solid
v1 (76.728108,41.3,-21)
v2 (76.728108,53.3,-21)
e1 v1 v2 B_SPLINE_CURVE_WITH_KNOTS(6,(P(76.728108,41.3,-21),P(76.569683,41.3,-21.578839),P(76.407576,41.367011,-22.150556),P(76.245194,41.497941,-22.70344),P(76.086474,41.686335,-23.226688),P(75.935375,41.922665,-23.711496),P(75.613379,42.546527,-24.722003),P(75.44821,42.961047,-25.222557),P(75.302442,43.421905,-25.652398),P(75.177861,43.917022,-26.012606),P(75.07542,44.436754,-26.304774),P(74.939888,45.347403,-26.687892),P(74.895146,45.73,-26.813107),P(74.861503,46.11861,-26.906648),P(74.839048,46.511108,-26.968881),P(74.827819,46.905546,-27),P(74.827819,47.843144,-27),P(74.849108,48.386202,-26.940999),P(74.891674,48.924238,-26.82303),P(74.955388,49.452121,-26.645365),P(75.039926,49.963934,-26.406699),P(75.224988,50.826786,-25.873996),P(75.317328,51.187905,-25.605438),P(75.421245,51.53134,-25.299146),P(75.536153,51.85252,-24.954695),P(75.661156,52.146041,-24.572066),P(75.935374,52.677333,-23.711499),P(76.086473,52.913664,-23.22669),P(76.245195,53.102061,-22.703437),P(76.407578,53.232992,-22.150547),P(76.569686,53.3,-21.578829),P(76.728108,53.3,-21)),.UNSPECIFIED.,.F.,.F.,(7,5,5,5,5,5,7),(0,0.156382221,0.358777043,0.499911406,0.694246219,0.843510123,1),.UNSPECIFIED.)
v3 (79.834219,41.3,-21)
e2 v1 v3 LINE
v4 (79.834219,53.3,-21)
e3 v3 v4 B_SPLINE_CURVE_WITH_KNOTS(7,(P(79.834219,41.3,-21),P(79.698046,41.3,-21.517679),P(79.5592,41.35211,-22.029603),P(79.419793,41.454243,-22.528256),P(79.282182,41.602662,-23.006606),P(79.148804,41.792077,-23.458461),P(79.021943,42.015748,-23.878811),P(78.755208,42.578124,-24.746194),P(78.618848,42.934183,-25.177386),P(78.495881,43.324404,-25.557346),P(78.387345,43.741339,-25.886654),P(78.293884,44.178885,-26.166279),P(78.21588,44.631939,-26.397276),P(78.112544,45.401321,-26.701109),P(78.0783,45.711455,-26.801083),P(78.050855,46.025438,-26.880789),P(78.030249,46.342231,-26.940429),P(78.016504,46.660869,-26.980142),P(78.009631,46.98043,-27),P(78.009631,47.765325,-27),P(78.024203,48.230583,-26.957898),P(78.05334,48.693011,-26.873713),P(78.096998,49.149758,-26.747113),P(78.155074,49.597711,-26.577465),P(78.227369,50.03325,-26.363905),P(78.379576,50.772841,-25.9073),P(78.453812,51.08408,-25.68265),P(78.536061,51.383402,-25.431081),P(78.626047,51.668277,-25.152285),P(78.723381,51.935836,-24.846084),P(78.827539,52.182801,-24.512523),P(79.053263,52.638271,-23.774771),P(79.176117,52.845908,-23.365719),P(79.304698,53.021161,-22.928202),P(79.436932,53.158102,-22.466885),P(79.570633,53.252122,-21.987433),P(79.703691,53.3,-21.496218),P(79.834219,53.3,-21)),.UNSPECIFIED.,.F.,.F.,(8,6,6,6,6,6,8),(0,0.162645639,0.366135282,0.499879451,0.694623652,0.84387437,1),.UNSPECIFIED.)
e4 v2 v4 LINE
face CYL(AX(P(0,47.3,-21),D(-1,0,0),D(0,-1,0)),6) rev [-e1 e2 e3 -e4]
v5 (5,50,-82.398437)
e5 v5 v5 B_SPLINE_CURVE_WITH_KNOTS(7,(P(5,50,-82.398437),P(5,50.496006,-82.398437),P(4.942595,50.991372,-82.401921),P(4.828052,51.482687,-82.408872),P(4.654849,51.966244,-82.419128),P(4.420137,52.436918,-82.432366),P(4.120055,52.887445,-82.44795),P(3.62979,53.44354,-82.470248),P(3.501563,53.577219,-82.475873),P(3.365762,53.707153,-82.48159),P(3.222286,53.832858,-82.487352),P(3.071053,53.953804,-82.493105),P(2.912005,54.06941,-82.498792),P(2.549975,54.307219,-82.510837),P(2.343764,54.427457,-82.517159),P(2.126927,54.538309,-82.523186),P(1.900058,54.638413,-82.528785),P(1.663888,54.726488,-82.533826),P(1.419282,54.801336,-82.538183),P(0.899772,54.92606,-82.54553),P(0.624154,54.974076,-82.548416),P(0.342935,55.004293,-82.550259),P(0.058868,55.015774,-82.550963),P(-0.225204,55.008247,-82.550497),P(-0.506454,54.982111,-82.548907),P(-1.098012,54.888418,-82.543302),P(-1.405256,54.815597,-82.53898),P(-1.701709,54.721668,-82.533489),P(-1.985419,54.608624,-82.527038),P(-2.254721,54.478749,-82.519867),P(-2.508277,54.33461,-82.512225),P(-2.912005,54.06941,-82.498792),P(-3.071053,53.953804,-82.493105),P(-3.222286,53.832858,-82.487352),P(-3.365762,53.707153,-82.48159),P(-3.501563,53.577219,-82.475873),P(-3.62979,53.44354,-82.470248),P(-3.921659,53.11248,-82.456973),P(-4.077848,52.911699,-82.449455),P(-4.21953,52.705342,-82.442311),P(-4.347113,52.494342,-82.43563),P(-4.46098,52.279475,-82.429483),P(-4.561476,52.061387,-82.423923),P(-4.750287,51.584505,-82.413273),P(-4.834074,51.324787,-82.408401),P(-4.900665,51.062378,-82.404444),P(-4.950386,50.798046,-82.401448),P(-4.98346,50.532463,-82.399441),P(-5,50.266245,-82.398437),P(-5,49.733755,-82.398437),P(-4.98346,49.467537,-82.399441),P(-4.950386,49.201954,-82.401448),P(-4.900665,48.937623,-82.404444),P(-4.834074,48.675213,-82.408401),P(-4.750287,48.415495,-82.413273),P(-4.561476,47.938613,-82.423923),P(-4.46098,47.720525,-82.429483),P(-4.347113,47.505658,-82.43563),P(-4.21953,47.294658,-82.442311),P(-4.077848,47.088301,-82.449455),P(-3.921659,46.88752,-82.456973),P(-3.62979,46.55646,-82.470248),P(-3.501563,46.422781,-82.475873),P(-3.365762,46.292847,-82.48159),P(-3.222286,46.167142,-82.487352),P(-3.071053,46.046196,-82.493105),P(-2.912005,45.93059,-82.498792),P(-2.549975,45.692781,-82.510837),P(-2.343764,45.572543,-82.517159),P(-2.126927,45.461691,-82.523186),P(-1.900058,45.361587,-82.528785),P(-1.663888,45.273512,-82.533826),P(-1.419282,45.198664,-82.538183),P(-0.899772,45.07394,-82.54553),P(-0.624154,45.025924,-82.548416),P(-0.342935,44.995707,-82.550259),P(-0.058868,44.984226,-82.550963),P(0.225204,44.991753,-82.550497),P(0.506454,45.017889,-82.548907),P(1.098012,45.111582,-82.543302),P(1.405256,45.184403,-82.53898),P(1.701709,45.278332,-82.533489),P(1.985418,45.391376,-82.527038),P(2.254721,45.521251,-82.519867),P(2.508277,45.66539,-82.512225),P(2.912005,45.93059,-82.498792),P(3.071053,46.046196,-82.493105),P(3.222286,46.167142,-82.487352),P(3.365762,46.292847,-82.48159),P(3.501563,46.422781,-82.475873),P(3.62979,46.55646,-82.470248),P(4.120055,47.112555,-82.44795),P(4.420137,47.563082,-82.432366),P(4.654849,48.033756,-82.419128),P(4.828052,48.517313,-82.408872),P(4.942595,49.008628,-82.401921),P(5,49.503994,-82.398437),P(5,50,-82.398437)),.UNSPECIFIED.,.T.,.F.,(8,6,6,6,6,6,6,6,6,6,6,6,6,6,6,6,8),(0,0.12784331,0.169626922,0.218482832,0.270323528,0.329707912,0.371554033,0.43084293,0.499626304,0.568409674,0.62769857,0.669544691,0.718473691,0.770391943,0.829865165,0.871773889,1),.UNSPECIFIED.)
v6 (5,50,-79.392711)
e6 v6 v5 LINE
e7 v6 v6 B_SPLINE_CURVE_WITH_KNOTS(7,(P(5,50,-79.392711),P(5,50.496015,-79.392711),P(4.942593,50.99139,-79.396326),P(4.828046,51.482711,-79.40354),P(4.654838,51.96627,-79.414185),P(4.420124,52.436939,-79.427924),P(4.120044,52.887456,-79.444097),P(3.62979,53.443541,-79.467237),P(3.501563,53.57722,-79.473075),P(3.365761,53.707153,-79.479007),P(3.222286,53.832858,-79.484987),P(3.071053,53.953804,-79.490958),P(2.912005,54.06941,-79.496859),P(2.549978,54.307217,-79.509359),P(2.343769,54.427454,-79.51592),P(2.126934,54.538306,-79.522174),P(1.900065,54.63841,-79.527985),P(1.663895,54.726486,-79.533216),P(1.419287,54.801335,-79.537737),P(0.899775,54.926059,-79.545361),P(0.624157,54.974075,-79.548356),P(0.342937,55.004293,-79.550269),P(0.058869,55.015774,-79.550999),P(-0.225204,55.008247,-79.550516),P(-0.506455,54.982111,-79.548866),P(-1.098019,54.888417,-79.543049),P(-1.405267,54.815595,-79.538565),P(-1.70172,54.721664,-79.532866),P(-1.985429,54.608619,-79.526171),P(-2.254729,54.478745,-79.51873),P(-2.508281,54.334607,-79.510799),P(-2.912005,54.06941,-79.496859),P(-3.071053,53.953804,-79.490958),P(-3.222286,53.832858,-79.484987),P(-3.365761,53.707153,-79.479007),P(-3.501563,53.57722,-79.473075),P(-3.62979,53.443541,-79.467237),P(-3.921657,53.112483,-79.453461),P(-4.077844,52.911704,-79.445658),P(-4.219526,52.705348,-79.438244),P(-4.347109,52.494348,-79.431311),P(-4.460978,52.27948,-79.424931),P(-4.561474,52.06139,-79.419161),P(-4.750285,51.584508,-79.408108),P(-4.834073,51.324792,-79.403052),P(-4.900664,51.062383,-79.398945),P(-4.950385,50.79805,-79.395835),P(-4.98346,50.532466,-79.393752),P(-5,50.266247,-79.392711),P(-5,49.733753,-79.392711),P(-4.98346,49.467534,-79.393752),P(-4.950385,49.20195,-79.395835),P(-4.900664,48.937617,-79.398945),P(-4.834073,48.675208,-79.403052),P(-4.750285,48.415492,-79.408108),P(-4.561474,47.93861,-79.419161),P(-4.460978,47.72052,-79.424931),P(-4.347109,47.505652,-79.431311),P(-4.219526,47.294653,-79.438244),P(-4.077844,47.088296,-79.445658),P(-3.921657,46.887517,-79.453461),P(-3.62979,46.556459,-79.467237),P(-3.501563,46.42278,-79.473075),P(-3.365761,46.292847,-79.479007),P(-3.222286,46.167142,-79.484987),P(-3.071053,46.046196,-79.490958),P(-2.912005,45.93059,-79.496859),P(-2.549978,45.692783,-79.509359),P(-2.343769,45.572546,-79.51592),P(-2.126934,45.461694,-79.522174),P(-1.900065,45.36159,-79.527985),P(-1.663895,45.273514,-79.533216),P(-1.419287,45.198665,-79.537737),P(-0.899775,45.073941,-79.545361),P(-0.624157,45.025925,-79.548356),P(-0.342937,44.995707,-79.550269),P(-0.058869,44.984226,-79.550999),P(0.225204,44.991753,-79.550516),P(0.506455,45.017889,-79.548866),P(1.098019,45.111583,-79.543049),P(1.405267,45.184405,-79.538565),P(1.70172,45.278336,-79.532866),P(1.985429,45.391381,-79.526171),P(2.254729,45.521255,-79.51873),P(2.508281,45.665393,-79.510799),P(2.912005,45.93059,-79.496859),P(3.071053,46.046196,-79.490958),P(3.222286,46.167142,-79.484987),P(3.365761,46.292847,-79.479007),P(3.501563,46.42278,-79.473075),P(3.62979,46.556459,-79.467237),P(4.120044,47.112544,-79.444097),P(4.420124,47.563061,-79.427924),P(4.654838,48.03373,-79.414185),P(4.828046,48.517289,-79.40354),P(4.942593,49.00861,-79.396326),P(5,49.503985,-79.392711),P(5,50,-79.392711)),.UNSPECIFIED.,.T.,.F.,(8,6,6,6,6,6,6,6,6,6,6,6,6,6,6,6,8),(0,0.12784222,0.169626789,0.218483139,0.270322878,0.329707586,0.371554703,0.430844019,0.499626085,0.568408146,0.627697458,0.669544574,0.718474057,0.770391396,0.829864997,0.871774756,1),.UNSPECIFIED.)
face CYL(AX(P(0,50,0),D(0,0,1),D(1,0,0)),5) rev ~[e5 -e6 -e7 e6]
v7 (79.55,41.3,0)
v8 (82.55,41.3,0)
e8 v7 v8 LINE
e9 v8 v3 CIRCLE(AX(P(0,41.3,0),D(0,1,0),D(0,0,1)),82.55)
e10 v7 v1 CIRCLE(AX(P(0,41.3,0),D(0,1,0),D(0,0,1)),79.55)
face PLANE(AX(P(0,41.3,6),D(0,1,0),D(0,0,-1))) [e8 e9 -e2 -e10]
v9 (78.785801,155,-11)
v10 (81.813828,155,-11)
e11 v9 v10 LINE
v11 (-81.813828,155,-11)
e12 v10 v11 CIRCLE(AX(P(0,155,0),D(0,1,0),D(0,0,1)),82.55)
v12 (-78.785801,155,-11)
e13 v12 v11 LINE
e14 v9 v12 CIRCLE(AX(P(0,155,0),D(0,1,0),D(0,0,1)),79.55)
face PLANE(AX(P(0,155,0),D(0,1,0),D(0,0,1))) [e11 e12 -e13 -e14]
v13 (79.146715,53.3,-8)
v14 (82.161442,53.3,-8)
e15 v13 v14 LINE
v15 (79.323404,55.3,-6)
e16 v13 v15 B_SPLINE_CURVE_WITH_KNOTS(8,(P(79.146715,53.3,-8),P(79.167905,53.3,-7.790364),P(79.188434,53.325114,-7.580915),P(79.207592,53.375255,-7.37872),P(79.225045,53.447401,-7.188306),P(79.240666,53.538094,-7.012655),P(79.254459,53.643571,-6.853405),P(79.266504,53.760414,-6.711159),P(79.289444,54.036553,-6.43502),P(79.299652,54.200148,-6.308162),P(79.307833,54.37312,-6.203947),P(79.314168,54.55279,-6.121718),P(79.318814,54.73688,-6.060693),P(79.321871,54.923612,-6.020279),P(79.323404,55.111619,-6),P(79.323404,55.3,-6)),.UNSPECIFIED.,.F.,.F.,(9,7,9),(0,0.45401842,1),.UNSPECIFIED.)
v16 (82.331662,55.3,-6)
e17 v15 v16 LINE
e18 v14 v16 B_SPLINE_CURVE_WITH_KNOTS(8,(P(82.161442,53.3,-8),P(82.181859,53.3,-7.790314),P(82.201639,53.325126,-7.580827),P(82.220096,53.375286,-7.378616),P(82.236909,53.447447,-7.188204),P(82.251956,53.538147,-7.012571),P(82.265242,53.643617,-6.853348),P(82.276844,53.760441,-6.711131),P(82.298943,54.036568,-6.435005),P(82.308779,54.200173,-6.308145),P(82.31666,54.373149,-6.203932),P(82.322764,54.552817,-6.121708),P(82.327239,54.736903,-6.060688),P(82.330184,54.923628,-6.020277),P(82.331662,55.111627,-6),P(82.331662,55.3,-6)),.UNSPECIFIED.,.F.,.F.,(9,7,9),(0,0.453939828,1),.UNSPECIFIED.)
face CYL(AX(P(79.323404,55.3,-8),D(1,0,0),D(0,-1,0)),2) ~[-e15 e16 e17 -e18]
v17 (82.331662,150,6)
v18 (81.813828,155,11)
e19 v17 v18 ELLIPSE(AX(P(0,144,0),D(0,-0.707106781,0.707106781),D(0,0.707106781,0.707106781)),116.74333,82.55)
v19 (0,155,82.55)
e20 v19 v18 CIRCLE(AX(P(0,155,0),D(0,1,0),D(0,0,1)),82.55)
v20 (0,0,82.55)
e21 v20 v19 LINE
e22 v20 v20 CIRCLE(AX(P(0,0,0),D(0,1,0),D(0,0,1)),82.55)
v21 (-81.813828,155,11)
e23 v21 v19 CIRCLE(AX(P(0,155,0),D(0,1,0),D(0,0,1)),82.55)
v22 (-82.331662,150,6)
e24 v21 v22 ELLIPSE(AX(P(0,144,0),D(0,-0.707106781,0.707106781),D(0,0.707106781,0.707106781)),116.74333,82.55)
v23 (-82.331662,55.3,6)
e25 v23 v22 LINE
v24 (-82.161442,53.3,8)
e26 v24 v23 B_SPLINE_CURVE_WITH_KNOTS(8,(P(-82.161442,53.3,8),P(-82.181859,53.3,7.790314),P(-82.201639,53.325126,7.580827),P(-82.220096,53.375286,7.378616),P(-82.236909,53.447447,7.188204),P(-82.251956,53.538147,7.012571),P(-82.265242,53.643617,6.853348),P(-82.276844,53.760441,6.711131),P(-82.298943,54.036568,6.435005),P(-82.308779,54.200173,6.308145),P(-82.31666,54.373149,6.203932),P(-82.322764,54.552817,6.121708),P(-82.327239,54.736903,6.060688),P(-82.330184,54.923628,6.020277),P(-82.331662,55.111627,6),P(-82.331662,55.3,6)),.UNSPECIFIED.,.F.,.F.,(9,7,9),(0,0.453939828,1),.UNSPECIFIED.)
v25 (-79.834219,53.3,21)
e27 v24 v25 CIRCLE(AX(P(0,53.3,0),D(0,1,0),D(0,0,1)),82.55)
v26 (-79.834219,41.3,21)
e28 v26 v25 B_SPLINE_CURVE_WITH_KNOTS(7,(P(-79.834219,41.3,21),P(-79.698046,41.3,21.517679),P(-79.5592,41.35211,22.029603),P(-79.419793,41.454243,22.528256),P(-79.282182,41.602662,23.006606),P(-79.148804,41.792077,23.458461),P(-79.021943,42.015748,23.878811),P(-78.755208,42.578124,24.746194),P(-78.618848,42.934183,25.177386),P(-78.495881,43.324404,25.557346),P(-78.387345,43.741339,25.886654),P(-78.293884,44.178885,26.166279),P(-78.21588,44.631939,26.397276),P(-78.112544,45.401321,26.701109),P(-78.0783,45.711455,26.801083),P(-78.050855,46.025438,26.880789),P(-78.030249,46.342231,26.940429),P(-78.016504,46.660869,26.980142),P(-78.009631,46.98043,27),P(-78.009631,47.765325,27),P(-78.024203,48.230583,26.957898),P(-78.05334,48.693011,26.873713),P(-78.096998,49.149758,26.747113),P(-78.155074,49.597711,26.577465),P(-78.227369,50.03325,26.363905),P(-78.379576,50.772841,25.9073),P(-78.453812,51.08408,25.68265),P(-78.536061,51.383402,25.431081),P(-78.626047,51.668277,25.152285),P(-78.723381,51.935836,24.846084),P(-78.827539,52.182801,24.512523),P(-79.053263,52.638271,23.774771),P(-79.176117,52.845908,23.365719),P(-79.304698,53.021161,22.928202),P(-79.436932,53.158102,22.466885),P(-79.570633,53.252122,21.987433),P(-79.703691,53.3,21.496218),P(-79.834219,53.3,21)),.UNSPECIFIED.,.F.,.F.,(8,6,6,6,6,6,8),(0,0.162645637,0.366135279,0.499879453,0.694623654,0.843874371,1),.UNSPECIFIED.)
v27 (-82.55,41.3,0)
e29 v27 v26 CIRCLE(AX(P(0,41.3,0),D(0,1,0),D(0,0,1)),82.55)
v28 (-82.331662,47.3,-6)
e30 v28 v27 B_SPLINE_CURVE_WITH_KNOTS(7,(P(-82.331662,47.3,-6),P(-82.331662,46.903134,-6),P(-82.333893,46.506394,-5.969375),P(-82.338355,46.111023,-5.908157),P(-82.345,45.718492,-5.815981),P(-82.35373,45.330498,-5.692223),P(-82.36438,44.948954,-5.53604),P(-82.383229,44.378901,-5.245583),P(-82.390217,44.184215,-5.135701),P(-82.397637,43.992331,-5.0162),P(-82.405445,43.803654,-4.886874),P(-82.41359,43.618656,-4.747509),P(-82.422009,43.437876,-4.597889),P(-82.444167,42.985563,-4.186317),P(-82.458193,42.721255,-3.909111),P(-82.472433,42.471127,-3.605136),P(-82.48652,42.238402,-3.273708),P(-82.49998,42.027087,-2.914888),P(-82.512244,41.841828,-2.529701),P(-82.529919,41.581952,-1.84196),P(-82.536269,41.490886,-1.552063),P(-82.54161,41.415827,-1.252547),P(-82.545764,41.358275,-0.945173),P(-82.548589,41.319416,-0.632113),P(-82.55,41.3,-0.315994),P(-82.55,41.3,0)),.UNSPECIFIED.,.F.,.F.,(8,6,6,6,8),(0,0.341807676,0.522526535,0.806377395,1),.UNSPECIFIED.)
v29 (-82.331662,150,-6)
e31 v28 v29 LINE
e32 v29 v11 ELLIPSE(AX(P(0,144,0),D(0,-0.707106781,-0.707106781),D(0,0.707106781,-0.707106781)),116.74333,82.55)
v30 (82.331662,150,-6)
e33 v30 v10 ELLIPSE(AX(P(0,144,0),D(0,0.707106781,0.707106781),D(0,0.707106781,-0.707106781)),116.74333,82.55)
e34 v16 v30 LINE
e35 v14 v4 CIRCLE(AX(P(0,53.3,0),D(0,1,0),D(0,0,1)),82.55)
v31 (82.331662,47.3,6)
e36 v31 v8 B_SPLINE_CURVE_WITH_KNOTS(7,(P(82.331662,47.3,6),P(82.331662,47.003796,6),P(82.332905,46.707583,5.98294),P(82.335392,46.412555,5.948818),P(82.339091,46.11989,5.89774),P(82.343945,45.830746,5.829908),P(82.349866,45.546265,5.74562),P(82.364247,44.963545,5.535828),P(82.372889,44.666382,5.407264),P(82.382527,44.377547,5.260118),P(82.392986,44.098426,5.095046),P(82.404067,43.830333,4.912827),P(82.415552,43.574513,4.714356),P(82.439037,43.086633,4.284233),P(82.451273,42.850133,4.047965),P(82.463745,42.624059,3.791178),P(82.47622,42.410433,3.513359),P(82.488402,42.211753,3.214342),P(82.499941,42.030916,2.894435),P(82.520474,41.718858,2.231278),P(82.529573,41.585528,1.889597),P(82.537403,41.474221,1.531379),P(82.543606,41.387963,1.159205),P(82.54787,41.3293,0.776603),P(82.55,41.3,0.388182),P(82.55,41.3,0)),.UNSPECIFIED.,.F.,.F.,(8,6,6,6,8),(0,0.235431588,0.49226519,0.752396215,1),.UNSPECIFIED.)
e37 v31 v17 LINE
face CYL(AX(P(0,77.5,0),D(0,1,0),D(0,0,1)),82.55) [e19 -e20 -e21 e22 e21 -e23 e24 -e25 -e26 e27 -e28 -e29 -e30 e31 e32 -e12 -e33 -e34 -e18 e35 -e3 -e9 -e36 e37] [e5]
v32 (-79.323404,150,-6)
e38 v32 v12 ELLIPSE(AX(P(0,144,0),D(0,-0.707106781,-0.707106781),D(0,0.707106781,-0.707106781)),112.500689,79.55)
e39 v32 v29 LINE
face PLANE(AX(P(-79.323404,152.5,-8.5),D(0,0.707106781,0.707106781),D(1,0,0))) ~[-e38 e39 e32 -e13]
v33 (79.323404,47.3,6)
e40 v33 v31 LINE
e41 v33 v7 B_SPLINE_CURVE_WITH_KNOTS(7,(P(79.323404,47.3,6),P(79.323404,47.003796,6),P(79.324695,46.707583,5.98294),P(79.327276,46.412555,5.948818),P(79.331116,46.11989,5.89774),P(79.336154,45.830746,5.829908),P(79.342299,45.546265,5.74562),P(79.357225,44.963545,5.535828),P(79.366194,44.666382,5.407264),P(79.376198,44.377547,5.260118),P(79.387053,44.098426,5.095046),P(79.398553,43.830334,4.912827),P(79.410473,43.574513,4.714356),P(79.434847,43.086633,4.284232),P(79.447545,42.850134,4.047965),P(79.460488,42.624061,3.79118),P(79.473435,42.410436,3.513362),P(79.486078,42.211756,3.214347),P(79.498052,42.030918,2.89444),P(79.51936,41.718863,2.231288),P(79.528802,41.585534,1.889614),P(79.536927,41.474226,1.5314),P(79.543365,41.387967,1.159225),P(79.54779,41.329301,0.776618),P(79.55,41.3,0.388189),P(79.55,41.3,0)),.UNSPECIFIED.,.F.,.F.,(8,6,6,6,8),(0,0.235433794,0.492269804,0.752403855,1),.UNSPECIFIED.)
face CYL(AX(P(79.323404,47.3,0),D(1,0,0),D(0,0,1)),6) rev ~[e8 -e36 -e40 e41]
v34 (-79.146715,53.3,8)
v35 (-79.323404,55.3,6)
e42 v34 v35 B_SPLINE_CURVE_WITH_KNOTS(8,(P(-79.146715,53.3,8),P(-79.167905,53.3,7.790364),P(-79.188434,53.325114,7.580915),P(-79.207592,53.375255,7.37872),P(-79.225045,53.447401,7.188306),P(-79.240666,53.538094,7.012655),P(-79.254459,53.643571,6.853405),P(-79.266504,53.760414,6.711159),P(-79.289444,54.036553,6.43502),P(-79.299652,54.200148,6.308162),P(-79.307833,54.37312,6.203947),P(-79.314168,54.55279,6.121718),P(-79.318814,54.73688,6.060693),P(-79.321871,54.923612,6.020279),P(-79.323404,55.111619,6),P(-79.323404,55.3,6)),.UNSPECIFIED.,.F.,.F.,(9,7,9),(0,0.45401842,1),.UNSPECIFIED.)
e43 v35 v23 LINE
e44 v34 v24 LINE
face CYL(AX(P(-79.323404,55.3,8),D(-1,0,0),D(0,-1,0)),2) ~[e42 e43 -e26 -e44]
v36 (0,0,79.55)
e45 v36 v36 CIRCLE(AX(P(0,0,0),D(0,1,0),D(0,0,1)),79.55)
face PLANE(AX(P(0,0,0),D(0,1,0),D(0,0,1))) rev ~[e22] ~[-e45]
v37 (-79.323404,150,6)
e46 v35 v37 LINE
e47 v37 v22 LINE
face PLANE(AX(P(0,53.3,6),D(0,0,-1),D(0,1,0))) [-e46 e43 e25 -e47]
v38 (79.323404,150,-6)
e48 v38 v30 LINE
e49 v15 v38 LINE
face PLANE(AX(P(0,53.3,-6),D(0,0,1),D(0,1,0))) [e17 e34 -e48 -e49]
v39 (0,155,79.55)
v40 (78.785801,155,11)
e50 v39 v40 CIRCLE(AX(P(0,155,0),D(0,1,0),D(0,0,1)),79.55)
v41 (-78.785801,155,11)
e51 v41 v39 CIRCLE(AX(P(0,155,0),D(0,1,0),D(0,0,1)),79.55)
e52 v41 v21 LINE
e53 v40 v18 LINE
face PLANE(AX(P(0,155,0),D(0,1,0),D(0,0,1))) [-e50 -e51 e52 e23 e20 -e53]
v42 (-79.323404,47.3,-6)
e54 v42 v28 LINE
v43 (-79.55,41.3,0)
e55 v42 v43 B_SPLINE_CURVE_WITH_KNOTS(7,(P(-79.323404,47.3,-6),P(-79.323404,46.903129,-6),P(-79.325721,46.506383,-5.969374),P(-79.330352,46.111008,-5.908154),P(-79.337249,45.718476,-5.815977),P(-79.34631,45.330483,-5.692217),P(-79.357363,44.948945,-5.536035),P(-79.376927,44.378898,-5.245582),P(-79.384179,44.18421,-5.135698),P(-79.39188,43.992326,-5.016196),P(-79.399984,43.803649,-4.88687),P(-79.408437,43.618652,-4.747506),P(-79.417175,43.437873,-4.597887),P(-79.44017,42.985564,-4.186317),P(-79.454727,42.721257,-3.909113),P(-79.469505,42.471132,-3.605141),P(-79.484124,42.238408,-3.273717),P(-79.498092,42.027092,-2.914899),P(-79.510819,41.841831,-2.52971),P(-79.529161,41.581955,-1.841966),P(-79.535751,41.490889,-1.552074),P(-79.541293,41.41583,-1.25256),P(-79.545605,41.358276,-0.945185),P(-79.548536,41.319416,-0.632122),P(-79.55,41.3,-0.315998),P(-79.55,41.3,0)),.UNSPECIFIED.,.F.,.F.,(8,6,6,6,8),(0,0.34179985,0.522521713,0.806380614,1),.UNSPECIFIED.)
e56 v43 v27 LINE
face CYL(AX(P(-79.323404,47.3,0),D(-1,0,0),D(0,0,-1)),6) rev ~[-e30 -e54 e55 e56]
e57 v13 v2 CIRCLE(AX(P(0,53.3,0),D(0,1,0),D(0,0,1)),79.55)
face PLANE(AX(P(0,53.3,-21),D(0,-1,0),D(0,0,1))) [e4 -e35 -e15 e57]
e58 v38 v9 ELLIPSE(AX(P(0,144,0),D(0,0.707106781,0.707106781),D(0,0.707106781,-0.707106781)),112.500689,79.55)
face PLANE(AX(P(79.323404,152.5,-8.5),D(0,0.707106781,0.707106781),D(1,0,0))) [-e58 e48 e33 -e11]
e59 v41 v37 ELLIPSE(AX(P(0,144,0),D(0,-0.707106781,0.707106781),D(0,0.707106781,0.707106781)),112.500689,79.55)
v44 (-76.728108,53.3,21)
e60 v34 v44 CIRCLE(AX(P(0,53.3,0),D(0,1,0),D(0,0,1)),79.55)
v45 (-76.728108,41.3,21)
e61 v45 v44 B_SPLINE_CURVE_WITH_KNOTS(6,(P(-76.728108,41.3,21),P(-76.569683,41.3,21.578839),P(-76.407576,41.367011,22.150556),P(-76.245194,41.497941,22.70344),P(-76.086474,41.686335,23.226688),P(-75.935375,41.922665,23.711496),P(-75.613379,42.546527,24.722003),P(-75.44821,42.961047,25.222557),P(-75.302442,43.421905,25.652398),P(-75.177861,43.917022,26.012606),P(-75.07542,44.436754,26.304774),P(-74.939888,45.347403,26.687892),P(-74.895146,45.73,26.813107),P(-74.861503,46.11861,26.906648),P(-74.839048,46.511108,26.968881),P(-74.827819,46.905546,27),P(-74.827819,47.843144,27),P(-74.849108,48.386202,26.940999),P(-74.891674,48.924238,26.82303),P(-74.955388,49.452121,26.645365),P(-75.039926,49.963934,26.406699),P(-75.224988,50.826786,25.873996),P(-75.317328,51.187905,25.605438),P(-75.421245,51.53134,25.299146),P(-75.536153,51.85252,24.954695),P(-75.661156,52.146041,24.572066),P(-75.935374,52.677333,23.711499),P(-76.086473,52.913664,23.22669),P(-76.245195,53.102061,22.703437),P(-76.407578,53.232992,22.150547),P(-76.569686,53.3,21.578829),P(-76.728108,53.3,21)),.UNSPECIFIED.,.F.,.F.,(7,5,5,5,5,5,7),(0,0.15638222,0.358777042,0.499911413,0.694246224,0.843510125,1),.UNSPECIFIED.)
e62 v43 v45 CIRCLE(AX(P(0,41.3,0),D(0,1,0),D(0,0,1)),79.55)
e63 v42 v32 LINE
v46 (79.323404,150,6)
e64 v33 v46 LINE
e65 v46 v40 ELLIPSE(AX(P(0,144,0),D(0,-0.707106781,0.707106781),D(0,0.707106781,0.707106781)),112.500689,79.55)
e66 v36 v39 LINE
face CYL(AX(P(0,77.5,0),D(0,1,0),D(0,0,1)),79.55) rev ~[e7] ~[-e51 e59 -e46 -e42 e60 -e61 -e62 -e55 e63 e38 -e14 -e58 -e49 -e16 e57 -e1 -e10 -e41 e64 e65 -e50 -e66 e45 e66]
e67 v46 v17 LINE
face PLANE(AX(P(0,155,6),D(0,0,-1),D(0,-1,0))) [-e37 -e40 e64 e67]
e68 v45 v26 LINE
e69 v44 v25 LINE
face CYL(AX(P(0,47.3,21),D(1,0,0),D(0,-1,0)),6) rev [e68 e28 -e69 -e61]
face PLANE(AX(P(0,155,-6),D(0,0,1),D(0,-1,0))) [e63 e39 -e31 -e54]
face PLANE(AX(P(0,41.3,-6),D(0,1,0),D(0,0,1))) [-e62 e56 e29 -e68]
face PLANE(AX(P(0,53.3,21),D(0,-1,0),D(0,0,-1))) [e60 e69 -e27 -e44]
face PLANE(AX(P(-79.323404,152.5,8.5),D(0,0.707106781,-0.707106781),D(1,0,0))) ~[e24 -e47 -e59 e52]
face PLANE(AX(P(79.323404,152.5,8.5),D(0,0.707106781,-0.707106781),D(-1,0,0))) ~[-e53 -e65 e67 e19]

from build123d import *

# Parameters (mm, degrees)
SKETCH2_W                    = 3
SKETCH2_H                    = 155
CUT_EXTRUDE1_DEPTH           = 83.55
FILLET1_R                    = 6
CHAMFER1_SIZE                = 5
FILLET4_R                    = 2
CIRPATTERN1_COUNT            = 2
FILLET1_OF_CIRPATTERN1_R     = 6
CHAMFER1_OF_CIRPATTERN1_SIZE = 5
FILLET4_OF_CIRPATTERN1_R     = 2
SKETCH4_R                    = 5
CUT_EXTRUDE2_DEPTH           = 100


with BuildPart() as part:
    # Sketch2 → Revolve1 (revolve)
    with BuildSketch(Plane(origin=(0, 0, 0), x_dir=(0, 0, -1), z_dir=(1, 0, 0))):
        with Locations((-81.05, 77.5)):
            Rectangle(SKETCH2_W, SKETCH2_H)
    revolve(axis=Axis((0, -7.75, 0), (0, 1, 0)))

    # Sketch3 → Cut-Extrude1 (cut, through all)
    with BuildSketch(Plane(origin=(0, 0, 0), x_dir=(0, 0, -1), z_dir=(1, 0, 0))):
        with BuildLine():
            Line((-6, 155), (6, 155))
            Line((6, 155), (6, 41.3))
            Line((6, 41.3), (-21, 41.3))
            ThreePointArc((-21, 41.3), (-27, 47.3), (-21, 53.3))
            Line((-21, 53.3), (-6, 53.3))
            Line((-6, 53.3), (-6, 155))
        make_face()
    cut_extrude1 = extrude(amount=-CUT_EXTRUDE1_DEPTH, mode=Mode.SUBTRACT)

    # Fillet1
    fillet1_edges = [part.edges().sort_by_distance(p)[0] for p in [
        (-80.82753304, 41.3, -6),
    ]]
    fillet(fillet1_edges, radius=FILLET1_R)

    # Chamfer1
    chamfer1_edges = [part.edges().sort_by_distance(p)[0] for p in [
        (-80.82753304, 155, -6),
        (-80.82753304, 155, 6),
    ]]
    chamfer(chamfer1_edges, length=CHAMFER1_SIZE)

    # Fillet4
    fillet4_edges = [part.edges().sort_by_distance(p)[0] for p in [
        (-80.82753304, 53.3, 6),
    ]]
    fillet(fillet4_edges, radius=FILLET4_R)

    # CirPattern1: Cut-Extrude1 ×2 about axis
    cirpattern1_axis = Axis((0, -7.75, 0), (0, 1, 0))
    for i in range(1, CIRPATTERN1_COUNT):
        add(cut_extrude1.rotate(cirpattern1_axis, i * 360 / CIRPATTERN1_COUNT), mode=Mode.SUBTRACT)

    # Fillet1 of CirPattern1
    fillet1_of_cirpattern1_edges = [part.edges().sort_by_distance(p)[0] for p in [
        (80.82753304, 41.3, 6),
    ]]
    fillet(fillet1_of_cirpattern1_edges, radius=FILLET1_OF_CIRPATTERN1_R)

    # Chamfer1 of CirPattern1
    chamfer1_of_cirpattern1_edges = [part.edges().sort_by_distance(p)[0] for p in [
        (80.82753304, 155, 6),
        (80.82753304, 155, -6),
    ]]
    chamfer(chamfer1_of_cirpattern1_edges, length=CHAMFER1_OF_CIRPATTERN1_SIZE)

    # Fillet4 of CirPattern1
    fillet4_of_cirpattern1_edges = [part.edges().sort_by_distance(p)[0] for p in [
        (80.82753304, 53.3, -6),
    ]]
    fillet(fillet4_of_cirpattern1_edges, radius=FILLET4_OF_CIRPATTERN1_R)

    # Sketch4 → Cut-Extrude2 (cut)
    with BuildSketch(Plane.XY):
        with Locations((0, 50)):
            Circle(SKETCH4_R)
    extrude(amount=-CUT_EXTRUDE2_DEPTH, mode=Mode.SUBTRACT)


solid = part.part
